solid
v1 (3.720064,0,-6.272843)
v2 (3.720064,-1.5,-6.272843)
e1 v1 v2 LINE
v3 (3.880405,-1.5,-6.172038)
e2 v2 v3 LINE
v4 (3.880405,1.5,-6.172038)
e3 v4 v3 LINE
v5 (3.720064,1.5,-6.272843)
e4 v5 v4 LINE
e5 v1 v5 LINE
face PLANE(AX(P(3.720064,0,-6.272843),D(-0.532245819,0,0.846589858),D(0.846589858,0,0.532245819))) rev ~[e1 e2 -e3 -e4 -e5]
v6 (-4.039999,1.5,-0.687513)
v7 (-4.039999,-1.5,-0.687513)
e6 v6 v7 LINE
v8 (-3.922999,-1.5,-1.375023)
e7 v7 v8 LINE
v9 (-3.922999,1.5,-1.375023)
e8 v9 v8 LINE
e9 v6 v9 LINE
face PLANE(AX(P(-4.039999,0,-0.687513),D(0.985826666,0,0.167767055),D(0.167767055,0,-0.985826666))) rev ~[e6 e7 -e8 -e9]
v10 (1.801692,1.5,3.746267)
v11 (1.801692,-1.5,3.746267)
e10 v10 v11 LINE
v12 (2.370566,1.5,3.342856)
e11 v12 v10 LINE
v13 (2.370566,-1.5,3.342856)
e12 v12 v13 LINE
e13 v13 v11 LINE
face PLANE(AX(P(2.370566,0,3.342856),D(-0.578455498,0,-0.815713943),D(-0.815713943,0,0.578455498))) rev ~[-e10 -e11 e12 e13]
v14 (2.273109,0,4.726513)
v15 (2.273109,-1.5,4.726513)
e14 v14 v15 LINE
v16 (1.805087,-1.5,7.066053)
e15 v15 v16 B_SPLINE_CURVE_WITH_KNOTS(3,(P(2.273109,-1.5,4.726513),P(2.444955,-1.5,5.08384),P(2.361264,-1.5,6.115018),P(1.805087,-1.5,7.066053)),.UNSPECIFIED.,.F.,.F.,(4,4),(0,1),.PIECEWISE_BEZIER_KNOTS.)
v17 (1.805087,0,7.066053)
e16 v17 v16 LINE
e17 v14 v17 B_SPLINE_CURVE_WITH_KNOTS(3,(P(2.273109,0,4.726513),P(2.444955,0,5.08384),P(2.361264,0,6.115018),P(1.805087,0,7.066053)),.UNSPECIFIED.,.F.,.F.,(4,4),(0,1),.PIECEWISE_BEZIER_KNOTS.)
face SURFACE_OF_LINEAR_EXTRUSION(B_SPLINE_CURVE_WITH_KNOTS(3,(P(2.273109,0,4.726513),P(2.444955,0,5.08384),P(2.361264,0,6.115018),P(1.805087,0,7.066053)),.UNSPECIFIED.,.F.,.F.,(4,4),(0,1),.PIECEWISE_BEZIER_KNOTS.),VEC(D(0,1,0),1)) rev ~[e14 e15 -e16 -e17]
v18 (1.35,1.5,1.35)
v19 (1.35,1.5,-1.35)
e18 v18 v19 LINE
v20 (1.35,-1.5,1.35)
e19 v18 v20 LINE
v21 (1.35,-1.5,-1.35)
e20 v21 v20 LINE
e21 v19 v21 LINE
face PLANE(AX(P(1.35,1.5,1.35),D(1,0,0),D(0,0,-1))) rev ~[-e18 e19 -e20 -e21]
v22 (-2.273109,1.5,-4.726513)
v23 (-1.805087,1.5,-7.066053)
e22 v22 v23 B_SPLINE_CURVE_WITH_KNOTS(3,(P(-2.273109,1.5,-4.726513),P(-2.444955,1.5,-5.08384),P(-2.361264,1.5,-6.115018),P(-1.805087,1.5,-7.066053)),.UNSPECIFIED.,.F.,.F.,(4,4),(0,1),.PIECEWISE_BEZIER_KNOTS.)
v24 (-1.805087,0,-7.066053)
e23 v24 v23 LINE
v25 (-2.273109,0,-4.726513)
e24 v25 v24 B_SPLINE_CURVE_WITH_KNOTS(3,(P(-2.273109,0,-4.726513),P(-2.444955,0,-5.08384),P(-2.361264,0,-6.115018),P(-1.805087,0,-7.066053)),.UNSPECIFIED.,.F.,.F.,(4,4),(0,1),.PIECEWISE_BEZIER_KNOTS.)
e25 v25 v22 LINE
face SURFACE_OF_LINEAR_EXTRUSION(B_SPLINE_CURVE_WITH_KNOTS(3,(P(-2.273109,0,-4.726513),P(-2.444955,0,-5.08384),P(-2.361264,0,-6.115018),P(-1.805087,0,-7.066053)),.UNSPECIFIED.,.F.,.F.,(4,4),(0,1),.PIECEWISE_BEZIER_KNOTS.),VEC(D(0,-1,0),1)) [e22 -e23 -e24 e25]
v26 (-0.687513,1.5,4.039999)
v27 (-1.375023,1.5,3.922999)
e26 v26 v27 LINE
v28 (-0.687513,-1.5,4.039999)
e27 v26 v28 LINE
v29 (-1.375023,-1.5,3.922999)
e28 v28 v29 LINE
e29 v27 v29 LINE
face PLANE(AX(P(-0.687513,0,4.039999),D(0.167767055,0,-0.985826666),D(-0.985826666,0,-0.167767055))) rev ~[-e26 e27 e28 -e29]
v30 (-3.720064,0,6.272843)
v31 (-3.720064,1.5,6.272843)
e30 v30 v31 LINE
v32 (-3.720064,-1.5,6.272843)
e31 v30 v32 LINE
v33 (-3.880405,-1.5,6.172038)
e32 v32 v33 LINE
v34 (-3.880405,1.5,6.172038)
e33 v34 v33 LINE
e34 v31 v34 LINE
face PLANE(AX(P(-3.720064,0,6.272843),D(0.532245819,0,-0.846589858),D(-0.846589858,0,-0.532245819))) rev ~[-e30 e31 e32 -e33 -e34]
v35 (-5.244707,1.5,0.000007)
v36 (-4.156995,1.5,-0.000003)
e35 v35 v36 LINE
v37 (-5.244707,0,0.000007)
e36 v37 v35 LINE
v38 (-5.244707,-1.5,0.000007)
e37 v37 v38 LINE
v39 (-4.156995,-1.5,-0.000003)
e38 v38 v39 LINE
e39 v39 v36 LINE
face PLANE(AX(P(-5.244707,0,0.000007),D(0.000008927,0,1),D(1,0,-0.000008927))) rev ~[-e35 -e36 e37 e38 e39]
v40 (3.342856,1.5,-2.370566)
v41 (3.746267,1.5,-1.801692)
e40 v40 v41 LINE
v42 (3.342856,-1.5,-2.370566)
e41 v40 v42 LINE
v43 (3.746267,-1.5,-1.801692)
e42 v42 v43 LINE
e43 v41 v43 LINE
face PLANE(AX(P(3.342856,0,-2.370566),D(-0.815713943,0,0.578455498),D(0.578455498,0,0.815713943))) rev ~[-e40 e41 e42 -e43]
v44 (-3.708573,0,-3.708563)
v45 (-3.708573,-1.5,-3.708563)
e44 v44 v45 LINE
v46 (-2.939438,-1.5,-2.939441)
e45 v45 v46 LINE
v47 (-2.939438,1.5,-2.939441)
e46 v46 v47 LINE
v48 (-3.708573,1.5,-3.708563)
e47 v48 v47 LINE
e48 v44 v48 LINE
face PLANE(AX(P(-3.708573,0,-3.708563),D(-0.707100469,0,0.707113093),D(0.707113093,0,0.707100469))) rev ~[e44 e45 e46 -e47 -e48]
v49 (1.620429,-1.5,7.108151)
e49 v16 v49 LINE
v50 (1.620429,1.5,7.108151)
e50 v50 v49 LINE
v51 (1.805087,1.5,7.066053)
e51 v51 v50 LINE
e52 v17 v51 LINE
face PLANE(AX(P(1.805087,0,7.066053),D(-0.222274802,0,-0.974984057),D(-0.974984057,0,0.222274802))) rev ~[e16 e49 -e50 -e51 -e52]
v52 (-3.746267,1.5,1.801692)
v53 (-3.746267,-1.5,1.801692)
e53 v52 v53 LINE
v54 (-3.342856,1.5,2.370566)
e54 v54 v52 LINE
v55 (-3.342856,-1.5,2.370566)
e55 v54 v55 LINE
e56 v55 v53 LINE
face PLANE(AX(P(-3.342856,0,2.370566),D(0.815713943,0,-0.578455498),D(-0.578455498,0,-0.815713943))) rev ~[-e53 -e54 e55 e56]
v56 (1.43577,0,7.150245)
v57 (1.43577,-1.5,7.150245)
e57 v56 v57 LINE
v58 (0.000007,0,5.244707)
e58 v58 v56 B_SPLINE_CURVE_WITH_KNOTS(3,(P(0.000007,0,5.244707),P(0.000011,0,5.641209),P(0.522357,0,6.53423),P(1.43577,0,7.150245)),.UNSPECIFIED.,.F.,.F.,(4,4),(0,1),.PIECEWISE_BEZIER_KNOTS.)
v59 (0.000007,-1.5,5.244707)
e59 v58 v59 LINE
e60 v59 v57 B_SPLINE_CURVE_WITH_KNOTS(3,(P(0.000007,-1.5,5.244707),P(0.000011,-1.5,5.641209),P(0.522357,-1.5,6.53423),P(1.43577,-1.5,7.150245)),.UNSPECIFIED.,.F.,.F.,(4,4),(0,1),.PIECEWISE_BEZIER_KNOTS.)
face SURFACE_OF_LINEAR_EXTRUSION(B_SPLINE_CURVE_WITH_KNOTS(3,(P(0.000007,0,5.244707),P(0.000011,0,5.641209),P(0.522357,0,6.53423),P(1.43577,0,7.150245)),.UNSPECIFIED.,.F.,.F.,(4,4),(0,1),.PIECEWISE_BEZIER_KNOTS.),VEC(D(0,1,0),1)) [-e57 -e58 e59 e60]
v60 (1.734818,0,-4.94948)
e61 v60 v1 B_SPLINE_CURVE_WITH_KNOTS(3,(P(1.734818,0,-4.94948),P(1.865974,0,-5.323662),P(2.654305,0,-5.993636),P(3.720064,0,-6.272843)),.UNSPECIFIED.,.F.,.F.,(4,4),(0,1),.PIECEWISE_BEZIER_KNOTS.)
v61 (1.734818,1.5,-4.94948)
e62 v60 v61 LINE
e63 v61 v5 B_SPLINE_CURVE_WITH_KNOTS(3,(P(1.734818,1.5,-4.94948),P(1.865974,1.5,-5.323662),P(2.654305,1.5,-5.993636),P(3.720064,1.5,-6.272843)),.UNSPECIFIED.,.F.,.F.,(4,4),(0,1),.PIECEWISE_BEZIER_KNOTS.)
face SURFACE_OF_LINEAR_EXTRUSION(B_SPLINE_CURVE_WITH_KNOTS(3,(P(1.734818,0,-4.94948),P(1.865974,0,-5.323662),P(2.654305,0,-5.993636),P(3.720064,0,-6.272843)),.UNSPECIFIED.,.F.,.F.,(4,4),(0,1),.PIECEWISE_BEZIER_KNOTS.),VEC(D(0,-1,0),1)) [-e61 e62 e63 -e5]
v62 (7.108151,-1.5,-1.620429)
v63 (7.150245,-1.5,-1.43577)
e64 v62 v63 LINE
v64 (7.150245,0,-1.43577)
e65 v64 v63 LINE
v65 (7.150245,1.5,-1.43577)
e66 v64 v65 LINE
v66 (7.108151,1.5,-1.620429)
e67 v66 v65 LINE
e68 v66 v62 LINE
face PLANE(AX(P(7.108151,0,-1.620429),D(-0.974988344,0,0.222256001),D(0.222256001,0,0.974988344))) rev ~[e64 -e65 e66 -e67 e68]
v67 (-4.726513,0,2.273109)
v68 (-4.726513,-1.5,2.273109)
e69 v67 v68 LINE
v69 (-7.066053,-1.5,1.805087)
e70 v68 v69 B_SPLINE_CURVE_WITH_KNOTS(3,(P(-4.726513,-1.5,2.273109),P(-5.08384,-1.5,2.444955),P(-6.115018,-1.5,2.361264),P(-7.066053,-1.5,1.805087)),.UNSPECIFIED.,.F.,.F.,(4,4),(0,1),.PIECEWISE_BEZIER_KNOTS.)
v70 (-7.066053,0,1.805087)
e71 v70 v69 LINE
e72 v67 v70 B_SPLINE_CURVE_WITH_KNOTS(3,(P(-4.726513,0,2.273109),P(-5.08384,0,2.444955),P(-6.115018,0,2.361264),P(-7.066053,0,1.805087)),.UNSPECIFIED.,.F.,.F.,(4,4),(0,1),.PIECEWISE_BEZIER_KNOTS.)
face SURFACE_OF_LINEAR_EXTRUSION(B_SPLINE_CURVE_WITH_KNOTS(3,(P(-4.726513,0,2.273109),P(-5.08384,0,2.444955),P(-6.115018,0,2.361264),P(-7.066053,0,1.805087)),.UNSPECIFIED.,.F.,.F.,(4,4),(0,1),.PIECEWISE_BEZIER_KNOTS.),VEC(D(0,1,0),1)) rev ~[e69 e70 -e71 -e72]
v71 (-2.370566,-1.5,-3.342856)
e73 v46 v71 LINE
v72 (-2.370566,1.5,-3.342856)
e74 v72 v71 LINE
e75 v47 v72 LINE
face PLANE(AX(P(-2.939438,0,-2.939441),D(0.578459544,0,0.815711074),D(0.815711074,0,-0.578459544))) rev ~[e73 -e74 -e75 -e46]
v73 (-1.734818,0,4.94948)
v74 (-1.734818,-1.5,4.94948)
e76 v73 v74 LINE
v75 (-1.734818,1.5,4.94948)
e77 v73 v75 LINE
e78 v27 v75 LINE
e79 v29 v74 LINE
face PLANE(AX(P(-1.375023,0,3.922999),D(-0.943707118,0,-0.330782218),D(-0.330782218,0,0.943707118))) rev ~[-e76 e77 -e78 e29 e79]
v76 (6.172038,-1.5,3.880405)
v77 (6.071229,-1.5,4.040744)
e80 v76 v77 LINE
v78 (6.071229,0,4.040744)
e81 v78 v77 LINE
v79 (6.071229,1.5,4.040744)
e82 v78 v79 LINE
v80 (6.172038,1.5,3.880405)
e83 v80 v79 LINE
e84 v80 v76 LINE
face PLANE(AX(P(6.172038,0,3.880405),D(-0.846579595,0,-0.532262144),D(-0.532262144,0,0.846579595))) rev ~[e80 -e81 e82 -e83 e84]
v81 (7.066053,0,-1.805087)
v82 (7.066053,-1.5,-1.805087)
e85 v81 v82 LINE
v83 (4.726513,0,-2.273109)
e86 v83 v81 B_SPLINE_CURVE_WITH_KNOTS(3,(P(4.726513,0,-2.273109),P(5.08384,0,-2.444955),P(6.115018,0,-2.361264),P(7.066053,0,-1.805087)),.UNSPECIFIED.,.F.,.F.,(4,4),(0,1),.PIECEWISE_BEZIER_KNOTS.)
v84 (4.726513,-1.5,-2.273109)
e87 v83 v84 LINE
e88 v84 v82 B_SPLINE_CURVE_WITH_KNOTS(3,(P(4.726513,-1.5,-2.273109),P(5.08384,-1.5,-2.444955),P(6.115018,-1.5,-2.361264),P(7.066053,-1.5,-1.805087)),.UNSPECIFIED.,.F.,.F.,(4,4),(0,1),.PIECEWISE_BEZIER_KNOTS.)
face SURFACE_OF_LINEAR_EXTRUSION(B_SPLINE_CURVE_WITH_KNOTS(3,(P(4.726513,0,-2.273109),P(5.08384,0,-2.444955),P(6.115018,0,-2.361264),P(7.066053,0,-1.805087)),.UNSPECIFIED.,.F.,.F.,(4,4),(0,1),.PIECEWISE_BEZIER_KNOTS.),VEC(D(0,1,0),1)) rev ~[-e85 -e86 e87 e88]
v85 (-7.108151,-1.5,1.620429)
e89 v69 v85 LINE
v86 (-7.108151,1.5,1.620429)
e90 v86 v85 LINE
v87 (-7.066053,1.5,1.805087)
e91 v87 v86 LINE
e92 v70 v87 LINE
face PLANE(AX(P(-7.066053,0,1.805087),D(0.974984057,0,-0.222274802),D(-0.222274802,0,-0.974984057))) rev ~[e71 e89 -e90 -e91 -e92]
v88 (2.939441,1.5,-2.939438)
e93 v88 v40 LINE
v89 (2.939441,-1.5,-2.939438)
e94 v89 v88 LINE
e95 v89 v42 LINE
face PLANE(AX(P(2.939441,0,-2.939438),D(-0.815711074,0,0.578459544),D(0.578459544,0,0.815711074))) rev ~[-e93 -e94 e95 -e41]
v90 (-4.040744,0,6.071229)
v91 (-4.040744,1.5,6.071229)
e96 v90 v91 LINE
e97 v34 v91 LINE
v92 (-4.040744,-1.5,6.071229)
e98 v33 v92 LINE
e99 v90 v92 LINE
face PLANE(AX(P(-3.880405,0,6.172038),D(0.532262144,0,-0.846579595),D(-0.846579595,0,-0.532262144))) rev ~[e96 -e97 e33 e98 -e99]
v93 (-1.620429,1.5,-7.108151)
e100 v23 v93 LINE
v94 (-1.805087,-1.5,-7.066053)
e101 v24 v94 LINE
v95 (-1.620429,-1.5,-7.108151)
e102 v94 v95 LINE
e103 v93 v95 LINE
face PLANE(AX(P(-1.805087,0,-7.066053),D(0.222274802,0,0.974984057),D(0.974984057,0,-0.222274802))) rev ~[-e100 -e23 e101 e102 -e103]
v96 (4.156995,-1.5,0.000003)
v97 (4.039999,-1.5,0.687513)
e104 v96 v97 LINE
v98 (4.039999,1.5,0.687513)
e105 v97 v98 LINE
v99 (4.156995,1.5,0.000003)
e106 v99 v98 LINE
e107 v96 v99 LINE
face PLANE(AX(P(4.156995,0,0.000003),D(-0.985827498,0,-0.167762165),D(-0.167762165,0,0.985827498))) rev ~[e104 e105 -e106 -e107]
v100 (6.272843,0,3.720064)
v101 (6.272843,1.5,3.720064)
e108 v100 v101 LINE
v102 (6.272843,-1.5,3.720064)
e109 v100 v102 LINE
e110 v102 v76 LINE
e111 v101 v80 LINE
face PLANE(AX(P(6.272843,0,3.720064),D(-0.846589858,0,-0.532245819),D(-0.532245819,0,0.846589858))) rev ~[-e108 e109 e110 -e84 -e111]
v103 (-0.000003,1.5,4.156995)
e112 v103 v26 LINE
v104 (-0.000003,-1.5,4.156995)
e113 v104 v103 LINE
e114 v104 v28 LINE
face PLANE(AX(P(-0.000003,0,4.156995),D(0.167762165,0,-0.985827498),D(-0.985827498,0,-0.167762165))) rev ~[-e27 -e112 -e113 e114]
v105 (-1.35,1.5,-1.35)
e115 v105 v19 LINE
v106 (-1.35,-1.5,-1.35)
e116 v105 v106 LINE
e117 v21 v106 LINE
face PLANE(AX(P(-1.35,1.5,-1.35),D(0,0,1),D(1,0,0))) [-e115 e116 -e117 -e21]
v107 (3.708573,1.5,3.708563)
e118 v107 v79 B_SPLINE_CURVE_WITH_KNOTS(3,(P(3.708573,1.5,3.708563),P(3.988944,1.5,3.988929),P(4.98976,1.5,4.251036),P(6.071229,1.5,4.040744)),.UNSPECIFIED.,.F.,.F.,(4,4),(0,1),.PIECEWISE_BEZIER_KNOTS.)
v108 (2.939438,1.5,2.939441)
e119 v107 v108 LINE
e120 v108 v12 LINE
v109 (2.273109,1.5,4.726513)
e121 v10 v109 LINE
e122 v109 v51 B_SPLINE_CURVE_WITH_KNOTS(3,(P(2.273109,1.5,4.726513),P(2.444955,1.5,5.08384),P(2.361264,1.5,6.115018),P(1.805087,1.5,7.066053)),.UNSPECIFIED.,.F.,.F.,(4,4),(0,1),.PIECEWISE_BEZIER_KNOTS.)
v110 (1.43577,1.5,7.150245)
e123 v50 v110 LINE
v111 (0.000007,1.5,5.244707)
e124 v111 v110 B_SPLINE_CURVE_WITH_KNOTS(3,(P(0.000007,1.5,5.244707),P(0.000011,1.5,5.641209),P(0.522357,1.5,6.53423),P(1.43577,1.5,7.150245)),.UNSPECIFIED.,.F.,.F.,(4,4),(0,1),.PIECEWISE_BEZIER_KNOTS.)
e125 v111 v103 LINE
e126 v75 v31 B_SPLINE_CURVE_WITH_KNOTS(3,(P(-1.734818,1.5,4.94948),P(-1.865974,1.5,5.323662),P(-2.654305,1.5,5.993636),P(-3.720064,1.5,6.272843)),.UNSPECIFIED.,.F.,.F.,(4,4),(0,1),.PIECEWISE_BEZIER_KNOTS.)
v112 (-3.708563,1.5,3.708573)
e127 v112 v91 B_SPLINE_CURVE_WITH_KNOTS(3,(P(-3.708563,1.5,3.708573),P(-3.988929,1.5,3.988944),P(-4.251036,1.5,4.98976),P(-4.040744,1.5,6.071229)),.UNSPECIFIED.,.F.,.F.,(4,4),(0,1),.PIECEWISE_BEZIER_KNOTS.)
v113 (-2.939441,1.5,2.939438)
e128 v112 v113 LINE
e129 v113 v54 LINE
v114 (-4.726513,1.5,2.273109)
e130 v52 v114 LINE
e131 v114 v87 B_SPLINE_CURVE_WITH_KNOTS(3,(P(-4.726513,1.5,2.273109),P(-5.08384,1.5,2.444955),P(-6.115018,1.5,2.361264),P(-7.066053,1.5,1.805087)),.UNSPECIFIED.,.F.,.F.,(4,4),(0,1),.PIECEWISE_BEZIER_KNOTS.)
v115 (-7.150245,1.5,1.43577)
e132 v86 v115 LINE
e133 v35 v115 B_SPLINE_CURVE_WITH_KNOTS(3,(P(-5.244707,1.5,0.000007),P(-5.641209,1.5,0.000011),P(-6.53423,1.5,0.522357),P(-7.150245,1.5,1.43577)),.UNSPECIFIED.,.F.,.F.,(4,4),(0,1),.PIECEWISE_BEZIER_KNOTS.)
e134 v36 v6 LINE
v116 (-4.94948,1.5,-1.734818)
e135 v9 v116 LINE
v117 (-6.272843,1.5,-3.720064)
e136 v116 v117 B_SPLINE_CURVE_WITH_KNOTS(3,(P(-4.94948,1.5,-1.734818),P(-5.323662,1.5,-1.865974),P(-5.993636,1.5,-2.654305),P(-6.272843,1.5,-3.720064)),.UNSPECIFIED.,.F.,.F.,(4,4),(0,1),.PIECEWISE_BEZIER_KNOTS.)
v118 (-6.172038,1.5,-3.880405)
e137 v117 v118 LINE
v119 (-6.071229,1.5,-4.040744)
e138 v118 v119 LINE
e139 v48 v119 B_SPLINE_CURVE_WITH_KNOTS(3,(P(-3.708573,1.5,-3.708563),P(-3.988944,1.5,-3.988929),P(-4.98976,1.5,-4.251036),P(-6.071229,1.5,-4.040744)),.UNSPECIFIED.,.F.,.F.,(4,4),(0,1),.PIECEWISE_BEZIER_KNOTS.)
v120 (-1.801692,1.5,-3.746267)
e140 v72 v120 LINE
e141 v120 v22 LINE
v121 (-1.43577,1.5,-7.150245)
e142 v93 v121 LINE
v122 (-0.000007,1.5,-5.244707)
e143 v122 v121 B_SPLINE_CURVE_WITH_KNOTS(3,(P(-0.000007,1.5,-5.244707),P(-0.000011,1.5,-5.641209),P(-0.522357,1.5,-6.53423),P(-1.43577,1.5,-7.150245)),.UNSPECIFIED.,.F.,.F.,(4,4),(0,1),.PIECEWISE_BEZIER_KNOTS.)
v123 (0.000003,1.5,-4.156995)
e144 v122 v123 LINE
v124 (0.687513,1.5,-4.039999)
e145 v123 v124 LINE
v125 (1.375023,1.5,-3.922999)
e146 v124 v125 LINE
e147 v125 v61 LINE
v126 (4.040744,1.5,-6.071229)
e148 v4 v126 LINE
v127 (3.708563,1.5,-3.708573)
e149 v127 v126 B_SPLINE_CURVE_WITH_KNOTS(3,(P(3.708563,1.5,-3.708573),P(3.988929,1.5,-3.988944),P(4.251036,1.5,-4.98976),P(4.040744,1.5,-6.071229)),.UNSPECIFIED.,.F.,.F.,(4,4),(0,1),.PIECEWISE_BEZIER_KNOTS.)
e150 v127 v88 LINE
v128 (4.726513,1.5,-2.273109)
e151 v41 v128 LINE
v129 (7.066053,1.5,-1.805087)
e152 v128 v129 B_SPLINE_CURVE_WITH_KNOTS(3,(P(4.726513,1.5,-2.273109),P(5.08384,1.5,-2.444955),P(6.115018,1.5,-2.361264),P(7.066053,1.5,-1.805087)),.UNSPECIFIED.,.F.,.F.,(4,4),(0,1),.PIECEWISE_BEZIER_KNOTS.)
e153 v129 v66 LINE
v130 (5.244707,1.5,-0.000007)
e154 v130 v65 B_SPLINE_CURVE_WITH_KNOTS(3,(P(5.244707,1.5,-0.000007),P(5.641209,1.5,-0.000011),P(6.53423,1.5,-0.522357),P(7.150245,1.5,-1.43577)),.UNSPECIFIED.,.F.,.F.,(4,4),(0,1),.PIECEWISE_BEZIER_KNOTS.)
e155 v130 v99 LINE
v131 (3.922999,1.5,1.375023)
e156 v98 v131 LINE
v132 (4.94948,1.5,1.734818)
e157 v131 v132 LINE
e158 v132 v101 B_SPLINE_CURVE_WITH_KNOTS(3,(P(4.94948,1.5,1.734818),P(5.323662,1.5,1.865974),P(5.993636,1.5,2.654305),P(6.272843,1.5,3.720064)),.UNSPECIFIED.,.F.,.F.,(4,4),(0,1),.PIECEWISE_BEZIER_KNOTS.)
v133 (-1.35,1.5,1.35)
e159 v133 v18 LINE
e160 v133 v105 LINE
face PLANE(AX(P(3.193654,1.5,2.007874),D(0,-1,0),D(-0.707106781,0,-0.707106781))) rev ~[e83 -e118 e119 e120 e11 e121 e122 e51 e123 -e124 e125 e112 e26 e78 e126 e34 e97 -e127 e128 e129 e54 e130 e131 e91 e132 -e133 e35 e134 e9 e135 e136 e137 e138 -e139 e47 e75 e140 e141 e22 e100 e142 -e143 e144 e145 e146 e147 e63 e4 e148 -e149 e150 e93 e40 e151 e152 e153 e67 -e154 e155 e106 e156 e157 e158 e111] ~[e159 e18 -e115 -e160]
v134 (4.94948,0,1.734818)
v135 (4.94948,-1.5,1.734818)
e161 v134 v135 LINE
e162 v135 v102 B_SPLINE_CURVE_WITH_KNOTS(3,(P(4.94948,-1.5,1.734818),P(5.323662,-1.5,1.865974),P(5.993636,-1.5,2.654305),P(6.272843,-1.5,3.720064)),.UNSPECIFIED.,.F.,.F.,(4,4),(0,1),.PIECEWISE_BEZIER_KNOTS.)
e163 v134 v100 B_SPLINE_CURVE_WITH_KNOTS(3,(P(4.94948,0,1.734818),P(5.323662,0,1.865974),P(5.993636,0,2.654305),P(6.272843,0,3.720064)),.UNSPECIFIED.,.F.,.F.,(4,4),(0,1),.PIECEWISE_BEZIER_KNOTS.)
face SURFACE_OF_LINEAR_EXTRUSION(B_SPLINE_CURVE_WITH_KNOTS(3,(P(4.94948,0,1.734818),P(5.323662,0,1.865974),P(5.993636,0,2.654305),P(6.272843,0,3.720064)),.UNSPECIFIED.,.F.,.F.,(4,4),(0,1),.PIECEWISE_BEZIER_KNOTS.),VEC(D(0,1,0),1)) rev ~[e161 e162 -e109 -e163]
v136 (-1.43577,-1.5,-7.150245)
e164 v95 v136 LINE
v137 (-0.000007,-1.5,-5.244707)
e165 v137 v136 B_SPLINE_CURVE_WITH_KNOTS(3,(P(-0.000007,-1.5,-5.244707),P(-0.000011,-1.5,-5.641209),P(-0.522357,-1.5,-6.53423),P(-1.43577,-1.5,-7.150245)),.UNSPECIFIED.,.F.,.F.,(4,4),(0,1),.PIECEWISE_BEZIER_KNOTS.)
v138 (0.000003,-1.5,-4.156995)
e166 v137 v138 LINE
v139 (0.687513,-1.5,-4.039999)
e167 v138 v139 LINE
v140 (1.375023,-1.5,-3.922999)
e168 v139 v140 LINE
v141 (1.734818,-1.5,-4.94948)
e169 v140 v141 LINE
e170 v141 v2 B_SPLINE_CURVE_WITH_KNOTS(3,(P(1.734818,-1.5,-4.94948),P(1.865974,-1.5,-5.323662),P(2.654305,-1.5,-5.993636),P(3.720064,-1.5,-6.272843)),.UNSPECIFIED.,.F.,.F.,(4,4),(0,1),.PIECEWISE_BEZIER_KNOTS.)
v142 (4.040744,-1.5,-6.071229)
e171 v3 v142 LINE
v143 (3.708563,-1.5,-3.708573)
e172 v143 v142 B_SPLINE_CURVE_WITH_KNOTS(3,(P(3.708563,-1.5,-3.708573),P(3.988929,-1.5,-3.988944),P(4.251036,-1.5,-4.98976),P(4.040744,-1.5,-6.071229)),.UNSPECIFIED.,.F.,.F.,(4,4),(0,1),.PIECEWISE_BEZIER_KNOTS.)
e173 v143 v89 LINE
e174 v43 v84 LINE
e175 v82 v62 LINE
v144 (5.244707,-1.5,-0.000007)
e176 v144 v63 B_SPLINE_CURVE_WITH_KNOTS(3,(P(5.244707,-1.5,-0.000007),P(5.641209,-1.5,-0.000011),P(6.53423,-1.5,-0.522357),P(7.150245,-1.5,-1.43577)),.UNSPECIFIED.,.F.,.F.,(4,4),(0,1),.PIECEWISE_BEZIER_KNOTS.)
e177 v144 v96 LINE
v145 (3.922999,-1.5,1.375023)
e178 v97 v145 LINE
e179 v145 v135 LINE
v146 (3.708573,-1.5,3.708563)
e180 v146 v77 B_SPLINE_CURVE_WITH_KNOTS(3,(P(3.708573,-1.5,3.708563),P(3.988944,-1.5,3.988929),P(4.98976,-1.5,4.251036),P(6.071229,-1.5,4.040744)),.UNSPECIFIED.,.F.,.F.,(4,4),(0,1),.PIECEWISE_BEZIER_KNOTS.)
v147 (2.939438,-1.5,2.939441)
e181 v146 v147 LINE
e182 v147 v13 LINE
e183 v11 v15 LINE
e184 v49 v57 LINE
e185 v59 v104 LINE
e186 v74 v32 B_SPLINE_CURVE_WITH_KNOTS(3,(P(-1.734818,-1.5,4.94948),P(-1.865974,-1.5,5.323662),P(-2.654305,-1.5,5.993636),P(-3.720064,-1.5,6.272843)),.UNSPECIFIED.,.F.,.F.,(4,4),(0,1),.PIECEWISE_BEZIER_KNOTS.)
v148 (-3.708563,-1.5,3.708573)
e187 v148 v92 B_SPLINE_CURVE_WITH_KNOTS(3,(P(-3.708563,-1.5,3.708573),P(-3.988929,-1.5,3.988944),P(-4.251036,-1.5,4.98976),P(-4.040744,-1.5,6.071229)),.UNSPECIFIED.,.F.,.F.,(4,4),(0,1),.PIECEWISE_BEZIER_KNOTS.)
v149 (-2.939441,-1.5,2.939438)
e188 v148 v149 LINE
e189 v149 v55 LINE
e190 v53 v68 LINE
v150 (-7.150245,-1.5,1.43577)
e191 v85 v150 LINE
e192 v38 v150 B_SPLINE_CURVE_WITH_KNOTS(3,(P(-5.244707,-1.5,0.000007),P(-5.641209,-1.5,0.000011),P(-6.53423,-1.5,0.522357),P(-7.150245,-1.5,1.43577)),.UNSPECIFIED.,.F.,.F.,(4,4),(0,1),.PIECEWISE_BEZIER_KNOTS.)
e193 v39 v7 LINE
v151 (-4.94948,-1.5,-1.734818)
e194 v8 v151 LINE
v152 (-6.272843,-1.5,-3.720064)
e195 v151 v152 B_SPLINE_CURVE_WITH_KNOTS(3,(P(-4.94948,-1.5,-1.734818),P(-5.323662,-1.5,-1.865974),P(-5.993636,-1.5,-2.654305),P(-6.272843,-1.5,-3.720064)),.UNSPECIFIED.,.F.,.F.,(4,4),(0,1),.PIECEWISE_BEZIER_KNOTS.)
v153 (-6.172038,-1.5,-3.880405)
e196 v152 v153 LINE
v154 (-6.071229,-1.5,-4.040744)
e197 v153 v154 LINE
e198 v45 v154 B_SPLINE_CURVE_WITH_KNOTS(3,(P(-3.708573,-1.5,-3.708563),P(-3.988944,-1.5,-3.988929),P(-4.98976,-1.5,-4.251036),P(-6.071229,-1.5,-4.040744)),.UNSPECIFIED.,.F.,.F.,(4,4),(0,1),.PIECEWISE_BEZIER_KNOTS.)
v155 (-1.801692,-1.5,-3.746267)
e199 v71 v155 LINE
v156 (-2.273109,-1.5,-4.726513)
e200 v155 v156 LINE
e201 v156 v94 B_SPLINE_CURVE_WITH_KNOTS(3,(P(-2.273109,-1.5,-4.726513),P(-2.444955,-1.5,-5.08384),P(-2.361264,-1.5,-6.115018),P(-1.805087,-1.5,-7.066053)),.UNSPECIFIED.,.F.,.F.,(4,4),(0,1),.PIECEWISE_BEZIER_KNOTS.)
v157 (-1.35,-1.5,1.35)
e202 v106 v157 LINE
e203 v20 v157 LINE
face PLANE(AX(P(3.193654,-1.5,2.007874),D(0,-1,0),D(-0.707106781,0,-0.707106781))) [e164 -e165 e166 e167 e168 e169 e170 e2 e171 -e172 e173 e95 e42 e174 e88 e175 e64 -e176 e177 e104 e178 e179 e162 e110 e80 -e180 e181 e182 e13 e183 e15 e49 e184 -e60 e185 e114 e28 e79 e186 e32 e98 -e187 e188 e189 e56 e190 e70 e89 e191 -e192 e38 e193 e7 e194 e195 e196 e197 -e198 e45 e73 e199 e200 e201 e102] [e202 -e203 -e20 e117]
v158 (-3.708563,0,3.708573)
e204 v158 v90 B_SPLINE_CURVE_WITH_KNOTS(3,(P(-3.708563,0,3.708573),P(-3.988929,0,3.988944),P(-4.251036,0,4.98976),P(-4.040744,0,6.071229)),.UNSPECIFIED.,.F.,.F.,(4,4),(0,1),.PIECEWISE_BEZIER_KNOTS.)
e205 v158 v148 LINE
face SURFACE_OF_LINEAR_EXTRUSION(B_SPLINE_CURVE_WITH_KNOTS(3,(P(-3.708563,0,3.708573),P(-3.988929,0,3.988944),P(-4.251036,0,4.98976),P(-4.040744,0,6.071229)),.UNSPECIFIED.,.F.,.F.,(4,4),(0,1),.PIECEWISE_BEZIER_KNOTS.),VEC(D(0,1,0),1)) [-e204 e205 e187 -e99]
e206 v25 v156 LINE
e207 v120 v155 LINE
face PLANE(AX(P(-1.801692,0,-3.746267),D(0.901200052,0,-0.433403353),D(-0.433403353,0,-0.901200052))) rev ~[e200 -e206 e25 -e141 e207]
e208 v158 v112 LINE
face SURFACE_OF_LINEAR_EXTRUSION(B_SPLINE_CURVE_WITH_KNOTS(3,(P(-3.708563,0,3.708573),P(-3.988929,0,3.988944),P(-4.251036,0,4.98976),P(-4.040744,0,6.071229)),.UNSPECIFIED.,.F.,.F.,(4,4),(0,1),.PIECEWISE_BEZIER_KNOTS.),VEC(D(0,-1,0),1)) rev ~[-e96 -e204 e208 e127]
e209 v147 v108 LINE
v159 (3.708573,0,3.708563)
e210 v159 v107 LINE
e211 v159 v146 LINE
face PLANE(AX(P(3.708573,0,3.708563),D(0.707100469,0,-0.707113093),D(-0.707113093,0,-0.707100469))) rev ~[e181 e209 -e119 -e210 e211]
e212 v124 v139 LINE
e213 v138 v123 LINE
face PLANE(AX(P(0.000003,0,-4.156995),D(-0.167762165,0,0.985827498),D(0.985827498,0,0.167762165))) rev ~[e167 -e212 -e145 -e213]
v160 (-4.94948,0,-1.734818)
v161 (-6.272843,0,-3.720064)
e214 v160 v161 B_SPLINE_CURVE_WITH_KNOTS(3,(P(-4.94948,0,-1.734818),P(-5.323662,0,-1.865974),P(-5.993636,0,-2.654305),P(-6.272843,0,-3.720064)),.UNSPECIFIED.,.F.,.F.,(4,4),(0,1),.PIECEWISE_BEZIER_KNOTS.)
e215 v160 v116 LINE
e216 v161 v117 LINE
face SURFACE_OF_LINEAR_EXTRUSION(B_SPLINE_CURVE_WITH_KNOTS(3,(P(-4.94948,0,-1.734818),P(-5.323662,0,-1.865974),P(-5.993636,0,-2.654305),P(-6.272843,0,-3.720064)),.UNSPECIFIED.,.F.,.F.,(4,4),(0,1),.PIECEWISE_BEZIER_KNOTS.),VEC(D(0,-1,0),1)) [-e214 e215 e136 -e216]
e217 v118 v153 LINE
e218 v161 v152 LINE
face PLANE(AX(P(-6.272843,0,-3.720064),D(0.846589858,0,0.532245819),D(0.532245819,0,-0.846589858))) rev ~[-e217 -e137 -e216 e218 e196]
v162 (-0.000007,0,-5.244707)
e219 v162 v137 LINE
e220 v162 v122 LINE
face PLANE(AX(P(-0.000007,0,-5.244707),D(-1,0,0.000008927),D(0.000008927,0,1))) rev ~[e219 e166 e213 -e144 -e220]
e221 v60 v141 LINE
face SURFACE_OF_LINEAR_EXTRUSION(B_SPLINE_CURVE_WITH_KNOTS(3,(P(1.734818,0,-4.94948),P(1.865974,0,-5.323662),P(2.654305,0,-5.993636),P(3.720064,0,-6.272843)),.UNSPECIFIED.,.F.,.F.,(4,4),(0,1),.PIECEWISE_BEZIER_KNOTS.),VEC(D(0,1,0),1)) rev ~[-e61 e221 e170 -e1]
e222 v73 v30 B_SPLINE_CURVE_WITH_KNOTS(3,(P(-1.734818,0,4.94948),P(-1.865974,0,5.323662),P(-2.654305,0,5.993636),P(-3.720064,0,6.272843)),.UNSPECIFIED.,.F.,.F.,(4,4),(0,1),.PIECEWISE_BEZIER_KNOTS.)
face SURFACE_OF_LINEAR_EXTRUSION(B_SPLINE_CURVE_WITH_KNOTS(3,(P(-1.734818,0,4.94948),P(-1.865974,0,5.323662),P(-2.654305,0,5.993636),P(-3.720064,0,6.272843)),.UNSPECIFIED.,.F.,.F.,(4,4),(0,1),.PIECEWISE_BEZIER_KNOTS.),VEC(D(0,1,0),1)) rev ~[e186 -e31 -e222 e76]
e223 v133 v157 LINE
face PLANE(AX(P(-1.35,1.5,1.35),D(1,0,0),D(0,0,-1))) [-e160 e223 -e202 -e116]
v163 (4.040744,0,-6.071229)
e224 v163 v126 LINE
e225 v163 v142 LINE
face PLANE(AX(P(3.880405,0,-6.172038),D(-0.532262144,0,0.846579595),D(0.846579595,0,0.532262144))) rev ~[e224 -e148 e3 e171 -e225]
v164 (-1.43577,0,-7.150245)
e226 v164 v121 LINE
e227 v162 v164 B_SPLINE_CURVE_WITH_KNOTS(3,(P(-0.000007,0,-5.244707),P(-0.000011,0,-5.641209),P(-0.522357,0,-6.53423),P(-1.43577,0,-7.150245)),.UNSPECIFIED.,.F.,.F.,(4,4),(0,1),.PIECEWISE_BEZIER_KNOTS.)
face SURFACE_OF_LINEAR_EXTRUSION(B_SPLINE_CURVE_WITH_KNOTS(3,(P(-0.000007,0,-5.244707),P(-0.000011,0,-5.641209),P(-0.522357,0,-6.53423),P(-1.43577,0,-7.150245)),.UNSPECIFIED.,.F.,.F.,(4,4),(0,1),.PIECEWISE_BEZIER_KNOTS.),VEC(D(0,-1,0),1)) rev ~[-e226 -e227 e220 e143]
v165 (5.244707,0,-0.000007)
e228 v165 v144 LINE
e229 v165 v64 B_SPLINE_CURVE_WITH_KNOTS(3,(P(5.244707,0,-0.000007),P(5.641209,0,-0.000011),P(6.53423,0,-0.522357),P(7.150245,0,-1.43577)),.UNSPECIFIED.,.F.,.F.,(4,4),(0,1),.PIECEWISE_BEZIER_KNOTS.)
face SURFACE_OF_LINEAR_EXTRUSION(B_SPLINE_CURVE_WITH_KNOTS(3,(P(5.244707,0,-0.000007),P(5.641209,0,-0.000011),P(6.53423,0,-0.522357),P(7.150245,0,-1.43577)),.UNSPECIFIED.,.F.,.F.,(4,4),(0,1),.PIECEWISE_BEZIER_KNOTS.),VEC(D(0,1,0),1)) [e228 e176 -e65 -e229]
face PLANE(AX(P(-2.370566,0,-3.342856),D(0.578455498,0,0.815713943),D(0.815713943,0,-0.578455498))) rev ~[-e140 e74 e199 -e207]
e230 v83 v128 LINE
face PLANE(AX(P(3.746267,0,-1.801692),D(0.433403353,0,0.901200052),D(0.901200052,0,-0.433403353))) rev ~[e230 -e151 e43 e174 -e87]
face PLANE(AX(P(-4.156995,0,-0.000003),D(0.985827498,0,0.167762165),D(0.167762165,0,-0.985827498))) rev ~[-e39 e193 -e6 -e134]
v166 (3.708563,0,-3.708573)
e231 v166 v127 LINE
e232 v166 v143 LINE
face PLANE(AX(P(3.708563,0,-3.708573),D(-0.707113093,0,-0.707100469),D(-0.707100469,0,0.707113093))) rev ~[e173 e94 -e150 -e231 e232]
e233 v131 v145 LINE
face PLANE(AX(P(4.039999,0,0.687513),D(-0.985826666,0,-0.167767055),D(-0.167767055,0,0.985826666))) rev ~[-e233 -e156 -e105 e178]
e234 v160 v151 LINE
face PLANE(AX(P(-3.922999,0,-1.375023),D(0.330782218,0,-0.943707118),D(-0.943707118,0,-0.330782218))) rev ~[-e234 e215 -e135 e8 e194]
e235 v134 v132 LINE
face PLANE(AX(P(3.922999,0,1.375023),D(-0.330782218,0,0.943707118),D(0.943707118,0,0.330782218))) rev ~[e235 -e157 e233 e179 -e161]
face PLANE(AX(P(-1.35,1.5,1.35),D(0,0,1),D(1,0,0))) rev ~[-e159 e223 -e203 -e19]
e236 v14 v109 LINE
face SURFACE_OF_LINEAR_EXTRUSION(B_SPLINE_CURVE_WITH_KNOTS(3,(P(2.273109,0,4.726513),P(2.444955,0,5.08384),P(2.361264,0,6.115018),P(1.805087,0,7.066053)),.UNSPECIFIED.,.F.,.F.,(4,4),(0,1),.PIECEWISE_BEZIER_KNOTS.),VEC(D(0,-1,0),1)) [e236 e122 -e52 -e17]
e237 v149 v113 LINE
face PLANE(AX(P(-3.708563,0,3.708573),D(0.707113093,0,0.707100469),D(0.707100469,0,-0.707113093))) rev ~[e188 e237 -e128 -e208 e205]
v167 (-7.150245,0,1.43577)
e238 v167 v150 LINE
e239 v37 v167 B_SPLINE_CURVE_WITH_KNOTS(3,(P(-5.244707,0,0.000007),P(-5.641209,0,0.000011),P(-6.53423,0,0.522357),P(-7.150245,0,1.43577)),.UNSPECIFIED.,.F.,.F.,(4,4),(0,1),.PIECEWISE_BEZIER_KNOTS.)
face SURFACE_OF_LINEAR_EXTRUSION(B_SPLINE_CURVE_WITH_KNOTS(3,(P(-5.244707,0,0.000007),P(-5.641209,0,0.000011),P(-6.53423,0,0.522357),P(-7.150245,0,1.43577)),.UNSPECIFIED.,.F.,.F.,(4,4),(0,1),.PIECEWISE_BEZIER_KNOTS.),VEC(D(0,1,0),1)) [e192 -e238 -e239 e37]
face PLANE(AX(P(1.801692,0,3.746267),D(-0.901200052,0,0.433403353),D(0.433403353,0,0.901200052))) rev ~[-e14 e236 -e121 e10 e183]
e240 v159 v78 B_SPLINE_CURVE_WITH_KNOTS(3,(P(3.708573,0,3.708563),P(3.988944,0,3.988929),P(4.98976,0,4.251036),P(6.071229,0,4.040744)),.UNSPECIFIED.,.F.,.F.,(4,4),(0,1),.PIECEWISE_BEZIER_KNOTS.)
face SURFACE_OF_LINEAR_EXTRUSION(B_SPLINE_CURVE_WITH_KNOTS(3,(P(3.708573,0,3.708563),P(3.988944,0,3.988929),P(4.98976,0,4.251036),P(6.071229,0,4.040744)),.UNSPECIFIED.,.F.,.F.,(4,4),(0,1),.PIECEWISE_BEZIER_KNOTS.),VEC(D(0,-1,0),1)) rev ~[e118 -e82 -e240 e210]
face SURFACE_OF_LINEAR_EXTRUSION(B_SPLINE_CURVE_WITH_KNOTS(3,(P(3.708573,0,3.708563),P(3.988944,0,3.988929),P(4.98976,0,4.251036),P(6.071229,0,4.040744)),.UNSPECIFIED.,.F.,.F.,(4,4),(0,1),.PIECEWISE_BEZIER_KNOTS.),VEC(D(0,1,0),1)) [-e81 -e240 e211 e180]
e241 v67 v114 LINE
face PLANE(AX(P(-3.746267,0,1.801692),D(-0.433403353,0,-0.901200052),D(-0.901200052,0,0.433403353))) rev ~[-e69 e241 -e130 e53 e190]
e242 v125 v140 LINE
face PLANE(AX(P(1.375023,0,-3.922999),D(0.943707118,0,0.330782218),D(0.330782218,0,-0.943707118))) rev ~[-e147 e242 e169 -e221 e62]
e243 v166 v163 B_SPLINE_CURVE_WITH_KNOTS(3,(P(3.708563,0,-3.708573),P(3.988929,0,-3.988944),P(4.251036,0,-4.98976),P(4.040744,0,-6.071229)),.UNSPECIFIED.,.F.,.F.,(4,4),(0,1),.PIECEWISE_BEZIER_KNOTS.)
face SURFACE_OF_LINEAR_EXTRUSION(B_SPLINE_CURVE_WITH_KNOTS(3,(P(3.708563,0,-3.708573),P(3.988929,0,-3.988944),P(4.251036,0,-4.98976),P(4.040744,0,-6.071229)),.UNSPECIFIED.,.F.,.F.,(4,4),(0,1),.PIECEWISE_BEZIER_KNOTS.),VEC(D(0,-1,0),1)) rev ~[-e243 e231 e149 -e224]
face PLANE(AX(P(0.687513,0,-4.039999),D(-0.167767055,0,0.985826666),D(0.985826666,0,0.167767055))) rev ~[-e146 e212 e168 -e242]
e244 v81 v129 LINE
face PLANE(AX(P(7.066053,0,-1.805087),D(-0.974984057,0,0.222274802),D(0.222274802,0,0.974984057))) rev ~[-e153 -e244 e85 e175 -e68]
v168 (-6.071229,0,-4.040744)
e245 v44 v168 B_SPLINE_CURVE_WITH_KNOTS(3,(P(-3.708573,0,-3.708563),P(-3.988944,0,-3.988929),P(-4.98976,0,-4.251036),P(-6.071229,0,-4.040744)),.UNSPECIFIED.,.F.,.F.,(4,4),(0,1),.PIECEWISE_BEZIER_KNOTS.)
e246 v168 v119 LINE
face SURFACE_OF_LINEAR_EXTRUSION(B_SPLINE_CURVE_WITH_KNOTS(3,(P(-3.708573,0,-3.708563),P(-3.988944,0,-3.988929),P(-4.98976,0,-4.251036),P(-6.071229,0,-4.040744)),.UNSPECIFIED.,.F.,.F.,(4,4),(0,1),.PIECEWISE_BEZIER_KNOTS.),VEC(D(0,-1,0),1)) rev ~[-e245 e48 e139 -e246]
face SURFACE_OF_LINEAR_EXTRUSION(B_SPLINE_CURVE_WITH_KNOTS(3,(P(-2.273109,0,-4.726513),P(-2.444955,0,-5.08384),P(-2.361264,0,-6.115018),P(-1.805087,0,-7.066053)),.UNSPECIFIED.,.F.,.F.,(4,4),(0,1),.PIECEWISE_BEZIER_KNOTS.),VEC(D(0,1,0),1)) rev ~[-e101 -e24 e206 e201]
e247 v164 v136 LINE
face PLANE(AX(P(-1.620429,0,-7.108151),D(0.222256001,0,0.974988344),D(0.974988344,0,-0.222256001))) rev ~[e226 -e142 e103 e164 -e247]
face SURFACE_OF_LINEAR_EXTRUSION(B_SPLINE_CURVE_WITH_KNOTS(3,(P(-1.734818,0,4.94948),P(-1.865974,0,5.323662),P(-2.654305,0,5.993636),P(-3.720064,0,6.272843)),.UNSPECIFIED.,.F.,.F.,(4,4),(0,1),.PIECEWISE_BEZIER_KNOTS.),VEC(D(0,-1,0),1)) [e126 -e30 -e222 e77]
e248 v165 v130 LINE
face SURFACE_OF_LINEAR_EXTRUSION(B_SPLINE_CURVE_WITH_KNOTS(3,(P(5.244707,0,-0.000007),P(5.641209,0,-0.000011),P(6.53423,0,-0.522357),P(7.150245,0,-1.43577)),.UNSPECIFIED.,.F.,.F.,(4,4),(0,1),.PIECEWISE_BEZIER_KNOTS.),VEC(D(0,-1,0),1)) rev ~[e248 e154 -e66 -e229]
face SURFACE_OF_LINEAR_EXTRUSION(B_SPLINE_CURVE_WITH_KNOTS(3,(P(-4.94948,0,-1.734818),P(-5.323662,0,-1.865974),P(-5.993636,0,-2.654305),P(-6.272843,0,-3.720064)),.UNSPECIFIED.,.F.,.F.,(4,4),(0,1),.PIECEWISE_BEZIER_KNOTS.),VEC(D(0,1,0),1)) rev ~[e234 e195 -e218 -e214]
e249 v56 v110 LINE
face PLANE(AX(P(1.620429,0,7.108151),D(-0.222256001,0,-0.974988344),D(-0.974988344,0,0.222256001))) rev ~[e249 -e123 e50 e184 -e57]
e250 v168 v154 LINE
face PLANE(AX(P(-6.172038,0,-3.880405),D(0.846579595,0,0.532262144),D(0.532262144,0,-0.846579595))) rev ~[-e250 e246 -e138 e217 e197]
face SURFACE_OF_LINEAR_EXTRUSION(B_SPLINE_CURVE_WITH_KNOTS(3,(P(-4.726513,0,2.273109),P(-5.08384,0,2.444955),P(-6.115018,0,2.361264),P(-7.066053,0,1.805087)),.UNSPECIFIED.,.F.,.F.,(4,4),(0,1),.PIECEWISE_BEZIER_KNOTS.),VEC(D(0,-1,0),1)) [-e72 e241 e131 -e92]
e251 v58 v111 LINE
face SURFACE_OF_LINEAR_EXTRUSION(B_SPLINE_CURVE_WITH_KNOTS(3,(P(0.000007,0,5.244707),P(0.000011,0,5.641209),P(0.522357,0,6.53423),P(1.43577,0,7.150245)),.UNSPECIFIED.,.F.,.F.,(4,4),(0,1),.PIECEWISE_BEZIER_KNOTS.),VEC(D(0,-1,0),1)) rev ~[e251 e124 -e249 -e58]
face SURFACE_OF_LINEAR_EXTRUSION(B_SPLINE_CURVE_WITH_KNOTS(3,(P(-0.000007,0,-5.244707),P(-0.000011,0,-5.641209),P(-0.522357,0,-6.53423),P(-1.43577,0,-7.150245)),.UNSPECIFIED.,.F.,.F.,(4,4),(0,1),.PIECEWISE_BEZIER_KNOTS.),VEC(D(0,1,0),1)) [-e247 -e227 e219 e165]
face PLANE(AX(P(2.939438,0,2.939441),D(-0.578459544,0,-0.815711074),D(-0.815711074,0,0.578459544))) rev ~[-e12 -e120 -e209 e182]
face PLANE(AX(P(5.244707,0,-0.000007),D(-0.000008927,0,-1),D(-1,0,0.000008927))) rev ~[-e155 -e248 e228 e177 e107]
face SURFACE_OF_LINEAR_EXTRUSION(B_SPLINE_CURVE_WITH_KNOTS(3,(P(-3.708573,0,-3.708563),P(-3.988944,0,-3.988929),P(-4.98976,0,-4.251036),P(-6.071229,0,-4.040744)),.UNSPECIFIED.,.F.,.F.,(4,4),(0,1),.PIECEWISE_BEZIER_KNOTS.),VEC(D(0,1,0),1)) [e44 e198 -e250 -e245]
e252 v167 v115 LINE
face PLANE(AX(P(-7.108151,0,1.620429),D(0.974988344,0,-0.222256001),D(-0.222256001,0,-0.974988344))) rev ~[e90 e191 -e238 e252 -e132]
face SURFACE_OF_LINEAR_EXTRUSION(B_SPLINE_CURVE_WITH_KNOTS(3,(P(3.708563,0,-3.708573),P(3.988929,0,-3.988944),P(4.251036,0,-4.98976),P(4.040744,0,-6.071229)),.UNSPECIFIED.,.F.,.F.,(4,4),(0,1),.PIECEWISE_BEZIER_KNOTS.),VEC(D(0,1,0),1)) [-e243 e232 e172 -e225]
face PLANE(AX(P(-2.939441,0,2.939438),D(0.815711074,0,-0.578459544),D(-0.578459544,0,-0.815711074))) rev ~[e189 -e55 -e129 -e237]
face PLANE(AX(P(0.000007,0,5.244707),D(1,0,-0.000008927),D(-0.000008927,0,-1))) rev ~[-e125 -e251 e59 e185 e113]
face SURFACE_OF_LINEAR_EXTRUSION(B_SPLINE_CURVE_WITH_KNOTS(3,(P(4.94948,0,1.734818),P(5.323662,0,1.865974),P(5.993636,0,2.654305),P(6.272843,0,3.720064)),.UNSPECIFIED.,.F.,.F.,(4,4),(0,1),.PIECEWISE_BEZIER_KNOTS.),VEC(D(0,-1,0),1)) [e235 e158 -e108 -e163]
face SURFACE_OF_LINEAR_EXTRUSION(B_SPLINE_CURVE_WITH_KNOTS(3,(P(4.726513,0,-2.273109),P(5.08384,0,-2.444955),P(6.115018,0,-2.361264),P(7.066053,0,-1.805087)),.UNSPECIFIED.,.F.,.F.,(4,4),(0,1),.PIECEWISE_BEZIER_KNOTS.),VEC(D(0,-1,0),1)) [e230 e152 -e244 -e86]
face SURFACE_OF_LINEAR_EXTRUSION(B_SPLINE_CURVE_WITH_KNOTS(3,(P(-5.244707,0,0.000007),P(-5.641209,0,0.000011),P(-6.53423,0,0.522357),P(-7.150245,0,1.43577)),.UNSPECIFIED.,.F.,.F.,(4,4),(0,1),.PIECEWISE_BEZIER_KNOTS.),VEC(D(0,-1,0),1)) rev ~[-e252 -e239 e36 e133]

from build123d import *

# Parameters (mm, degrees)
BOSS_EXTRUDE1_DEPTH = 1.5
CIRPATTERN1_COUNT   = 8
SKETCH4_W           = 2.7
SKETCH4_H           = 2.7
CUT_EXTRUDE1_DEPTH  = 11.547606867


with BuildPart() as part:
    # Sketch5 → Boss-Extrude1 (new, symmetric)
    with BuildSketch(Plane(origin=(0, 0, 0), x_dir=(1, 0, 0), z_dir=(0, 1, 0))):
        with BuildLine():
            Line((0, 0), (3.342855658, 2.370565581))
            Line((3.342855658, 2.370565581), (3.746267067, 1.80169155))
            Line((3.746267067, 1.80169155), (4.726512919, 2.273109454))
            add(Edge.make_bspline(
                [(4.726512919, 2.273109454), (5.083840243, 2.444954607), (6.11501814, 2.361263688), (7.066052624, 1.805087159)],
                knots=[0, 0, 0, 0, 1, 1, 1, 1], degree=3))
            Line((7.066052624, 1.805087159), (7.108150593, 1.620429032))
            Line((7.108150593, 1.620429032), (7.150245001, 1.435770094))
            add(Edge.make_bspline(
                [(5.244706948, 7.012e-06), (5.641208616, 1.0552e-05), (6.534229602, 0.522356744), (7.150245001, 1.435770094)],
                knots=[0, 0, 0, 0, 1, 1, 1, 1], degree=3))
            Line((5.244706948, 7.012e-06), (4.156995234, -2.698e-06))
            Line((4.156995234, -2.698e-06), (4.039998902, -0.687512906))
            Line((4.039998902, -0.687512906), (0, 0))
        make_face()
    boss_extrude1 = extrude(amount=BOSS_EXTRUDE1_DEPTH, both=True)

    # CirPattern1: Boss-Extrude1 ×8 about axis
    cirpattern1_axis = Axis((0, -1.5, 0), (0, 1, 0))
    for i in range(1, CIRPATTERN1_COUNT):
        add(boss_extrude1.rotate(cirpattern1_axis, i * 360 / CIRPATTERN1_COUNT))

    # Sketch4 → Cut-Extrude1 (cut, through all)
    with BuildSketch(Plane(origin=(0, 1.5, 0), x_dir=(1, 0, 0), z_dir=(0, 1, 0))):
        Rectangle(SKETCH4_W, SKETCH4_H)
    extrude(amount=-CUT_EXTRUDE1_DEPTH, mode=Mode.SUBTRACT)


solid = part.part
